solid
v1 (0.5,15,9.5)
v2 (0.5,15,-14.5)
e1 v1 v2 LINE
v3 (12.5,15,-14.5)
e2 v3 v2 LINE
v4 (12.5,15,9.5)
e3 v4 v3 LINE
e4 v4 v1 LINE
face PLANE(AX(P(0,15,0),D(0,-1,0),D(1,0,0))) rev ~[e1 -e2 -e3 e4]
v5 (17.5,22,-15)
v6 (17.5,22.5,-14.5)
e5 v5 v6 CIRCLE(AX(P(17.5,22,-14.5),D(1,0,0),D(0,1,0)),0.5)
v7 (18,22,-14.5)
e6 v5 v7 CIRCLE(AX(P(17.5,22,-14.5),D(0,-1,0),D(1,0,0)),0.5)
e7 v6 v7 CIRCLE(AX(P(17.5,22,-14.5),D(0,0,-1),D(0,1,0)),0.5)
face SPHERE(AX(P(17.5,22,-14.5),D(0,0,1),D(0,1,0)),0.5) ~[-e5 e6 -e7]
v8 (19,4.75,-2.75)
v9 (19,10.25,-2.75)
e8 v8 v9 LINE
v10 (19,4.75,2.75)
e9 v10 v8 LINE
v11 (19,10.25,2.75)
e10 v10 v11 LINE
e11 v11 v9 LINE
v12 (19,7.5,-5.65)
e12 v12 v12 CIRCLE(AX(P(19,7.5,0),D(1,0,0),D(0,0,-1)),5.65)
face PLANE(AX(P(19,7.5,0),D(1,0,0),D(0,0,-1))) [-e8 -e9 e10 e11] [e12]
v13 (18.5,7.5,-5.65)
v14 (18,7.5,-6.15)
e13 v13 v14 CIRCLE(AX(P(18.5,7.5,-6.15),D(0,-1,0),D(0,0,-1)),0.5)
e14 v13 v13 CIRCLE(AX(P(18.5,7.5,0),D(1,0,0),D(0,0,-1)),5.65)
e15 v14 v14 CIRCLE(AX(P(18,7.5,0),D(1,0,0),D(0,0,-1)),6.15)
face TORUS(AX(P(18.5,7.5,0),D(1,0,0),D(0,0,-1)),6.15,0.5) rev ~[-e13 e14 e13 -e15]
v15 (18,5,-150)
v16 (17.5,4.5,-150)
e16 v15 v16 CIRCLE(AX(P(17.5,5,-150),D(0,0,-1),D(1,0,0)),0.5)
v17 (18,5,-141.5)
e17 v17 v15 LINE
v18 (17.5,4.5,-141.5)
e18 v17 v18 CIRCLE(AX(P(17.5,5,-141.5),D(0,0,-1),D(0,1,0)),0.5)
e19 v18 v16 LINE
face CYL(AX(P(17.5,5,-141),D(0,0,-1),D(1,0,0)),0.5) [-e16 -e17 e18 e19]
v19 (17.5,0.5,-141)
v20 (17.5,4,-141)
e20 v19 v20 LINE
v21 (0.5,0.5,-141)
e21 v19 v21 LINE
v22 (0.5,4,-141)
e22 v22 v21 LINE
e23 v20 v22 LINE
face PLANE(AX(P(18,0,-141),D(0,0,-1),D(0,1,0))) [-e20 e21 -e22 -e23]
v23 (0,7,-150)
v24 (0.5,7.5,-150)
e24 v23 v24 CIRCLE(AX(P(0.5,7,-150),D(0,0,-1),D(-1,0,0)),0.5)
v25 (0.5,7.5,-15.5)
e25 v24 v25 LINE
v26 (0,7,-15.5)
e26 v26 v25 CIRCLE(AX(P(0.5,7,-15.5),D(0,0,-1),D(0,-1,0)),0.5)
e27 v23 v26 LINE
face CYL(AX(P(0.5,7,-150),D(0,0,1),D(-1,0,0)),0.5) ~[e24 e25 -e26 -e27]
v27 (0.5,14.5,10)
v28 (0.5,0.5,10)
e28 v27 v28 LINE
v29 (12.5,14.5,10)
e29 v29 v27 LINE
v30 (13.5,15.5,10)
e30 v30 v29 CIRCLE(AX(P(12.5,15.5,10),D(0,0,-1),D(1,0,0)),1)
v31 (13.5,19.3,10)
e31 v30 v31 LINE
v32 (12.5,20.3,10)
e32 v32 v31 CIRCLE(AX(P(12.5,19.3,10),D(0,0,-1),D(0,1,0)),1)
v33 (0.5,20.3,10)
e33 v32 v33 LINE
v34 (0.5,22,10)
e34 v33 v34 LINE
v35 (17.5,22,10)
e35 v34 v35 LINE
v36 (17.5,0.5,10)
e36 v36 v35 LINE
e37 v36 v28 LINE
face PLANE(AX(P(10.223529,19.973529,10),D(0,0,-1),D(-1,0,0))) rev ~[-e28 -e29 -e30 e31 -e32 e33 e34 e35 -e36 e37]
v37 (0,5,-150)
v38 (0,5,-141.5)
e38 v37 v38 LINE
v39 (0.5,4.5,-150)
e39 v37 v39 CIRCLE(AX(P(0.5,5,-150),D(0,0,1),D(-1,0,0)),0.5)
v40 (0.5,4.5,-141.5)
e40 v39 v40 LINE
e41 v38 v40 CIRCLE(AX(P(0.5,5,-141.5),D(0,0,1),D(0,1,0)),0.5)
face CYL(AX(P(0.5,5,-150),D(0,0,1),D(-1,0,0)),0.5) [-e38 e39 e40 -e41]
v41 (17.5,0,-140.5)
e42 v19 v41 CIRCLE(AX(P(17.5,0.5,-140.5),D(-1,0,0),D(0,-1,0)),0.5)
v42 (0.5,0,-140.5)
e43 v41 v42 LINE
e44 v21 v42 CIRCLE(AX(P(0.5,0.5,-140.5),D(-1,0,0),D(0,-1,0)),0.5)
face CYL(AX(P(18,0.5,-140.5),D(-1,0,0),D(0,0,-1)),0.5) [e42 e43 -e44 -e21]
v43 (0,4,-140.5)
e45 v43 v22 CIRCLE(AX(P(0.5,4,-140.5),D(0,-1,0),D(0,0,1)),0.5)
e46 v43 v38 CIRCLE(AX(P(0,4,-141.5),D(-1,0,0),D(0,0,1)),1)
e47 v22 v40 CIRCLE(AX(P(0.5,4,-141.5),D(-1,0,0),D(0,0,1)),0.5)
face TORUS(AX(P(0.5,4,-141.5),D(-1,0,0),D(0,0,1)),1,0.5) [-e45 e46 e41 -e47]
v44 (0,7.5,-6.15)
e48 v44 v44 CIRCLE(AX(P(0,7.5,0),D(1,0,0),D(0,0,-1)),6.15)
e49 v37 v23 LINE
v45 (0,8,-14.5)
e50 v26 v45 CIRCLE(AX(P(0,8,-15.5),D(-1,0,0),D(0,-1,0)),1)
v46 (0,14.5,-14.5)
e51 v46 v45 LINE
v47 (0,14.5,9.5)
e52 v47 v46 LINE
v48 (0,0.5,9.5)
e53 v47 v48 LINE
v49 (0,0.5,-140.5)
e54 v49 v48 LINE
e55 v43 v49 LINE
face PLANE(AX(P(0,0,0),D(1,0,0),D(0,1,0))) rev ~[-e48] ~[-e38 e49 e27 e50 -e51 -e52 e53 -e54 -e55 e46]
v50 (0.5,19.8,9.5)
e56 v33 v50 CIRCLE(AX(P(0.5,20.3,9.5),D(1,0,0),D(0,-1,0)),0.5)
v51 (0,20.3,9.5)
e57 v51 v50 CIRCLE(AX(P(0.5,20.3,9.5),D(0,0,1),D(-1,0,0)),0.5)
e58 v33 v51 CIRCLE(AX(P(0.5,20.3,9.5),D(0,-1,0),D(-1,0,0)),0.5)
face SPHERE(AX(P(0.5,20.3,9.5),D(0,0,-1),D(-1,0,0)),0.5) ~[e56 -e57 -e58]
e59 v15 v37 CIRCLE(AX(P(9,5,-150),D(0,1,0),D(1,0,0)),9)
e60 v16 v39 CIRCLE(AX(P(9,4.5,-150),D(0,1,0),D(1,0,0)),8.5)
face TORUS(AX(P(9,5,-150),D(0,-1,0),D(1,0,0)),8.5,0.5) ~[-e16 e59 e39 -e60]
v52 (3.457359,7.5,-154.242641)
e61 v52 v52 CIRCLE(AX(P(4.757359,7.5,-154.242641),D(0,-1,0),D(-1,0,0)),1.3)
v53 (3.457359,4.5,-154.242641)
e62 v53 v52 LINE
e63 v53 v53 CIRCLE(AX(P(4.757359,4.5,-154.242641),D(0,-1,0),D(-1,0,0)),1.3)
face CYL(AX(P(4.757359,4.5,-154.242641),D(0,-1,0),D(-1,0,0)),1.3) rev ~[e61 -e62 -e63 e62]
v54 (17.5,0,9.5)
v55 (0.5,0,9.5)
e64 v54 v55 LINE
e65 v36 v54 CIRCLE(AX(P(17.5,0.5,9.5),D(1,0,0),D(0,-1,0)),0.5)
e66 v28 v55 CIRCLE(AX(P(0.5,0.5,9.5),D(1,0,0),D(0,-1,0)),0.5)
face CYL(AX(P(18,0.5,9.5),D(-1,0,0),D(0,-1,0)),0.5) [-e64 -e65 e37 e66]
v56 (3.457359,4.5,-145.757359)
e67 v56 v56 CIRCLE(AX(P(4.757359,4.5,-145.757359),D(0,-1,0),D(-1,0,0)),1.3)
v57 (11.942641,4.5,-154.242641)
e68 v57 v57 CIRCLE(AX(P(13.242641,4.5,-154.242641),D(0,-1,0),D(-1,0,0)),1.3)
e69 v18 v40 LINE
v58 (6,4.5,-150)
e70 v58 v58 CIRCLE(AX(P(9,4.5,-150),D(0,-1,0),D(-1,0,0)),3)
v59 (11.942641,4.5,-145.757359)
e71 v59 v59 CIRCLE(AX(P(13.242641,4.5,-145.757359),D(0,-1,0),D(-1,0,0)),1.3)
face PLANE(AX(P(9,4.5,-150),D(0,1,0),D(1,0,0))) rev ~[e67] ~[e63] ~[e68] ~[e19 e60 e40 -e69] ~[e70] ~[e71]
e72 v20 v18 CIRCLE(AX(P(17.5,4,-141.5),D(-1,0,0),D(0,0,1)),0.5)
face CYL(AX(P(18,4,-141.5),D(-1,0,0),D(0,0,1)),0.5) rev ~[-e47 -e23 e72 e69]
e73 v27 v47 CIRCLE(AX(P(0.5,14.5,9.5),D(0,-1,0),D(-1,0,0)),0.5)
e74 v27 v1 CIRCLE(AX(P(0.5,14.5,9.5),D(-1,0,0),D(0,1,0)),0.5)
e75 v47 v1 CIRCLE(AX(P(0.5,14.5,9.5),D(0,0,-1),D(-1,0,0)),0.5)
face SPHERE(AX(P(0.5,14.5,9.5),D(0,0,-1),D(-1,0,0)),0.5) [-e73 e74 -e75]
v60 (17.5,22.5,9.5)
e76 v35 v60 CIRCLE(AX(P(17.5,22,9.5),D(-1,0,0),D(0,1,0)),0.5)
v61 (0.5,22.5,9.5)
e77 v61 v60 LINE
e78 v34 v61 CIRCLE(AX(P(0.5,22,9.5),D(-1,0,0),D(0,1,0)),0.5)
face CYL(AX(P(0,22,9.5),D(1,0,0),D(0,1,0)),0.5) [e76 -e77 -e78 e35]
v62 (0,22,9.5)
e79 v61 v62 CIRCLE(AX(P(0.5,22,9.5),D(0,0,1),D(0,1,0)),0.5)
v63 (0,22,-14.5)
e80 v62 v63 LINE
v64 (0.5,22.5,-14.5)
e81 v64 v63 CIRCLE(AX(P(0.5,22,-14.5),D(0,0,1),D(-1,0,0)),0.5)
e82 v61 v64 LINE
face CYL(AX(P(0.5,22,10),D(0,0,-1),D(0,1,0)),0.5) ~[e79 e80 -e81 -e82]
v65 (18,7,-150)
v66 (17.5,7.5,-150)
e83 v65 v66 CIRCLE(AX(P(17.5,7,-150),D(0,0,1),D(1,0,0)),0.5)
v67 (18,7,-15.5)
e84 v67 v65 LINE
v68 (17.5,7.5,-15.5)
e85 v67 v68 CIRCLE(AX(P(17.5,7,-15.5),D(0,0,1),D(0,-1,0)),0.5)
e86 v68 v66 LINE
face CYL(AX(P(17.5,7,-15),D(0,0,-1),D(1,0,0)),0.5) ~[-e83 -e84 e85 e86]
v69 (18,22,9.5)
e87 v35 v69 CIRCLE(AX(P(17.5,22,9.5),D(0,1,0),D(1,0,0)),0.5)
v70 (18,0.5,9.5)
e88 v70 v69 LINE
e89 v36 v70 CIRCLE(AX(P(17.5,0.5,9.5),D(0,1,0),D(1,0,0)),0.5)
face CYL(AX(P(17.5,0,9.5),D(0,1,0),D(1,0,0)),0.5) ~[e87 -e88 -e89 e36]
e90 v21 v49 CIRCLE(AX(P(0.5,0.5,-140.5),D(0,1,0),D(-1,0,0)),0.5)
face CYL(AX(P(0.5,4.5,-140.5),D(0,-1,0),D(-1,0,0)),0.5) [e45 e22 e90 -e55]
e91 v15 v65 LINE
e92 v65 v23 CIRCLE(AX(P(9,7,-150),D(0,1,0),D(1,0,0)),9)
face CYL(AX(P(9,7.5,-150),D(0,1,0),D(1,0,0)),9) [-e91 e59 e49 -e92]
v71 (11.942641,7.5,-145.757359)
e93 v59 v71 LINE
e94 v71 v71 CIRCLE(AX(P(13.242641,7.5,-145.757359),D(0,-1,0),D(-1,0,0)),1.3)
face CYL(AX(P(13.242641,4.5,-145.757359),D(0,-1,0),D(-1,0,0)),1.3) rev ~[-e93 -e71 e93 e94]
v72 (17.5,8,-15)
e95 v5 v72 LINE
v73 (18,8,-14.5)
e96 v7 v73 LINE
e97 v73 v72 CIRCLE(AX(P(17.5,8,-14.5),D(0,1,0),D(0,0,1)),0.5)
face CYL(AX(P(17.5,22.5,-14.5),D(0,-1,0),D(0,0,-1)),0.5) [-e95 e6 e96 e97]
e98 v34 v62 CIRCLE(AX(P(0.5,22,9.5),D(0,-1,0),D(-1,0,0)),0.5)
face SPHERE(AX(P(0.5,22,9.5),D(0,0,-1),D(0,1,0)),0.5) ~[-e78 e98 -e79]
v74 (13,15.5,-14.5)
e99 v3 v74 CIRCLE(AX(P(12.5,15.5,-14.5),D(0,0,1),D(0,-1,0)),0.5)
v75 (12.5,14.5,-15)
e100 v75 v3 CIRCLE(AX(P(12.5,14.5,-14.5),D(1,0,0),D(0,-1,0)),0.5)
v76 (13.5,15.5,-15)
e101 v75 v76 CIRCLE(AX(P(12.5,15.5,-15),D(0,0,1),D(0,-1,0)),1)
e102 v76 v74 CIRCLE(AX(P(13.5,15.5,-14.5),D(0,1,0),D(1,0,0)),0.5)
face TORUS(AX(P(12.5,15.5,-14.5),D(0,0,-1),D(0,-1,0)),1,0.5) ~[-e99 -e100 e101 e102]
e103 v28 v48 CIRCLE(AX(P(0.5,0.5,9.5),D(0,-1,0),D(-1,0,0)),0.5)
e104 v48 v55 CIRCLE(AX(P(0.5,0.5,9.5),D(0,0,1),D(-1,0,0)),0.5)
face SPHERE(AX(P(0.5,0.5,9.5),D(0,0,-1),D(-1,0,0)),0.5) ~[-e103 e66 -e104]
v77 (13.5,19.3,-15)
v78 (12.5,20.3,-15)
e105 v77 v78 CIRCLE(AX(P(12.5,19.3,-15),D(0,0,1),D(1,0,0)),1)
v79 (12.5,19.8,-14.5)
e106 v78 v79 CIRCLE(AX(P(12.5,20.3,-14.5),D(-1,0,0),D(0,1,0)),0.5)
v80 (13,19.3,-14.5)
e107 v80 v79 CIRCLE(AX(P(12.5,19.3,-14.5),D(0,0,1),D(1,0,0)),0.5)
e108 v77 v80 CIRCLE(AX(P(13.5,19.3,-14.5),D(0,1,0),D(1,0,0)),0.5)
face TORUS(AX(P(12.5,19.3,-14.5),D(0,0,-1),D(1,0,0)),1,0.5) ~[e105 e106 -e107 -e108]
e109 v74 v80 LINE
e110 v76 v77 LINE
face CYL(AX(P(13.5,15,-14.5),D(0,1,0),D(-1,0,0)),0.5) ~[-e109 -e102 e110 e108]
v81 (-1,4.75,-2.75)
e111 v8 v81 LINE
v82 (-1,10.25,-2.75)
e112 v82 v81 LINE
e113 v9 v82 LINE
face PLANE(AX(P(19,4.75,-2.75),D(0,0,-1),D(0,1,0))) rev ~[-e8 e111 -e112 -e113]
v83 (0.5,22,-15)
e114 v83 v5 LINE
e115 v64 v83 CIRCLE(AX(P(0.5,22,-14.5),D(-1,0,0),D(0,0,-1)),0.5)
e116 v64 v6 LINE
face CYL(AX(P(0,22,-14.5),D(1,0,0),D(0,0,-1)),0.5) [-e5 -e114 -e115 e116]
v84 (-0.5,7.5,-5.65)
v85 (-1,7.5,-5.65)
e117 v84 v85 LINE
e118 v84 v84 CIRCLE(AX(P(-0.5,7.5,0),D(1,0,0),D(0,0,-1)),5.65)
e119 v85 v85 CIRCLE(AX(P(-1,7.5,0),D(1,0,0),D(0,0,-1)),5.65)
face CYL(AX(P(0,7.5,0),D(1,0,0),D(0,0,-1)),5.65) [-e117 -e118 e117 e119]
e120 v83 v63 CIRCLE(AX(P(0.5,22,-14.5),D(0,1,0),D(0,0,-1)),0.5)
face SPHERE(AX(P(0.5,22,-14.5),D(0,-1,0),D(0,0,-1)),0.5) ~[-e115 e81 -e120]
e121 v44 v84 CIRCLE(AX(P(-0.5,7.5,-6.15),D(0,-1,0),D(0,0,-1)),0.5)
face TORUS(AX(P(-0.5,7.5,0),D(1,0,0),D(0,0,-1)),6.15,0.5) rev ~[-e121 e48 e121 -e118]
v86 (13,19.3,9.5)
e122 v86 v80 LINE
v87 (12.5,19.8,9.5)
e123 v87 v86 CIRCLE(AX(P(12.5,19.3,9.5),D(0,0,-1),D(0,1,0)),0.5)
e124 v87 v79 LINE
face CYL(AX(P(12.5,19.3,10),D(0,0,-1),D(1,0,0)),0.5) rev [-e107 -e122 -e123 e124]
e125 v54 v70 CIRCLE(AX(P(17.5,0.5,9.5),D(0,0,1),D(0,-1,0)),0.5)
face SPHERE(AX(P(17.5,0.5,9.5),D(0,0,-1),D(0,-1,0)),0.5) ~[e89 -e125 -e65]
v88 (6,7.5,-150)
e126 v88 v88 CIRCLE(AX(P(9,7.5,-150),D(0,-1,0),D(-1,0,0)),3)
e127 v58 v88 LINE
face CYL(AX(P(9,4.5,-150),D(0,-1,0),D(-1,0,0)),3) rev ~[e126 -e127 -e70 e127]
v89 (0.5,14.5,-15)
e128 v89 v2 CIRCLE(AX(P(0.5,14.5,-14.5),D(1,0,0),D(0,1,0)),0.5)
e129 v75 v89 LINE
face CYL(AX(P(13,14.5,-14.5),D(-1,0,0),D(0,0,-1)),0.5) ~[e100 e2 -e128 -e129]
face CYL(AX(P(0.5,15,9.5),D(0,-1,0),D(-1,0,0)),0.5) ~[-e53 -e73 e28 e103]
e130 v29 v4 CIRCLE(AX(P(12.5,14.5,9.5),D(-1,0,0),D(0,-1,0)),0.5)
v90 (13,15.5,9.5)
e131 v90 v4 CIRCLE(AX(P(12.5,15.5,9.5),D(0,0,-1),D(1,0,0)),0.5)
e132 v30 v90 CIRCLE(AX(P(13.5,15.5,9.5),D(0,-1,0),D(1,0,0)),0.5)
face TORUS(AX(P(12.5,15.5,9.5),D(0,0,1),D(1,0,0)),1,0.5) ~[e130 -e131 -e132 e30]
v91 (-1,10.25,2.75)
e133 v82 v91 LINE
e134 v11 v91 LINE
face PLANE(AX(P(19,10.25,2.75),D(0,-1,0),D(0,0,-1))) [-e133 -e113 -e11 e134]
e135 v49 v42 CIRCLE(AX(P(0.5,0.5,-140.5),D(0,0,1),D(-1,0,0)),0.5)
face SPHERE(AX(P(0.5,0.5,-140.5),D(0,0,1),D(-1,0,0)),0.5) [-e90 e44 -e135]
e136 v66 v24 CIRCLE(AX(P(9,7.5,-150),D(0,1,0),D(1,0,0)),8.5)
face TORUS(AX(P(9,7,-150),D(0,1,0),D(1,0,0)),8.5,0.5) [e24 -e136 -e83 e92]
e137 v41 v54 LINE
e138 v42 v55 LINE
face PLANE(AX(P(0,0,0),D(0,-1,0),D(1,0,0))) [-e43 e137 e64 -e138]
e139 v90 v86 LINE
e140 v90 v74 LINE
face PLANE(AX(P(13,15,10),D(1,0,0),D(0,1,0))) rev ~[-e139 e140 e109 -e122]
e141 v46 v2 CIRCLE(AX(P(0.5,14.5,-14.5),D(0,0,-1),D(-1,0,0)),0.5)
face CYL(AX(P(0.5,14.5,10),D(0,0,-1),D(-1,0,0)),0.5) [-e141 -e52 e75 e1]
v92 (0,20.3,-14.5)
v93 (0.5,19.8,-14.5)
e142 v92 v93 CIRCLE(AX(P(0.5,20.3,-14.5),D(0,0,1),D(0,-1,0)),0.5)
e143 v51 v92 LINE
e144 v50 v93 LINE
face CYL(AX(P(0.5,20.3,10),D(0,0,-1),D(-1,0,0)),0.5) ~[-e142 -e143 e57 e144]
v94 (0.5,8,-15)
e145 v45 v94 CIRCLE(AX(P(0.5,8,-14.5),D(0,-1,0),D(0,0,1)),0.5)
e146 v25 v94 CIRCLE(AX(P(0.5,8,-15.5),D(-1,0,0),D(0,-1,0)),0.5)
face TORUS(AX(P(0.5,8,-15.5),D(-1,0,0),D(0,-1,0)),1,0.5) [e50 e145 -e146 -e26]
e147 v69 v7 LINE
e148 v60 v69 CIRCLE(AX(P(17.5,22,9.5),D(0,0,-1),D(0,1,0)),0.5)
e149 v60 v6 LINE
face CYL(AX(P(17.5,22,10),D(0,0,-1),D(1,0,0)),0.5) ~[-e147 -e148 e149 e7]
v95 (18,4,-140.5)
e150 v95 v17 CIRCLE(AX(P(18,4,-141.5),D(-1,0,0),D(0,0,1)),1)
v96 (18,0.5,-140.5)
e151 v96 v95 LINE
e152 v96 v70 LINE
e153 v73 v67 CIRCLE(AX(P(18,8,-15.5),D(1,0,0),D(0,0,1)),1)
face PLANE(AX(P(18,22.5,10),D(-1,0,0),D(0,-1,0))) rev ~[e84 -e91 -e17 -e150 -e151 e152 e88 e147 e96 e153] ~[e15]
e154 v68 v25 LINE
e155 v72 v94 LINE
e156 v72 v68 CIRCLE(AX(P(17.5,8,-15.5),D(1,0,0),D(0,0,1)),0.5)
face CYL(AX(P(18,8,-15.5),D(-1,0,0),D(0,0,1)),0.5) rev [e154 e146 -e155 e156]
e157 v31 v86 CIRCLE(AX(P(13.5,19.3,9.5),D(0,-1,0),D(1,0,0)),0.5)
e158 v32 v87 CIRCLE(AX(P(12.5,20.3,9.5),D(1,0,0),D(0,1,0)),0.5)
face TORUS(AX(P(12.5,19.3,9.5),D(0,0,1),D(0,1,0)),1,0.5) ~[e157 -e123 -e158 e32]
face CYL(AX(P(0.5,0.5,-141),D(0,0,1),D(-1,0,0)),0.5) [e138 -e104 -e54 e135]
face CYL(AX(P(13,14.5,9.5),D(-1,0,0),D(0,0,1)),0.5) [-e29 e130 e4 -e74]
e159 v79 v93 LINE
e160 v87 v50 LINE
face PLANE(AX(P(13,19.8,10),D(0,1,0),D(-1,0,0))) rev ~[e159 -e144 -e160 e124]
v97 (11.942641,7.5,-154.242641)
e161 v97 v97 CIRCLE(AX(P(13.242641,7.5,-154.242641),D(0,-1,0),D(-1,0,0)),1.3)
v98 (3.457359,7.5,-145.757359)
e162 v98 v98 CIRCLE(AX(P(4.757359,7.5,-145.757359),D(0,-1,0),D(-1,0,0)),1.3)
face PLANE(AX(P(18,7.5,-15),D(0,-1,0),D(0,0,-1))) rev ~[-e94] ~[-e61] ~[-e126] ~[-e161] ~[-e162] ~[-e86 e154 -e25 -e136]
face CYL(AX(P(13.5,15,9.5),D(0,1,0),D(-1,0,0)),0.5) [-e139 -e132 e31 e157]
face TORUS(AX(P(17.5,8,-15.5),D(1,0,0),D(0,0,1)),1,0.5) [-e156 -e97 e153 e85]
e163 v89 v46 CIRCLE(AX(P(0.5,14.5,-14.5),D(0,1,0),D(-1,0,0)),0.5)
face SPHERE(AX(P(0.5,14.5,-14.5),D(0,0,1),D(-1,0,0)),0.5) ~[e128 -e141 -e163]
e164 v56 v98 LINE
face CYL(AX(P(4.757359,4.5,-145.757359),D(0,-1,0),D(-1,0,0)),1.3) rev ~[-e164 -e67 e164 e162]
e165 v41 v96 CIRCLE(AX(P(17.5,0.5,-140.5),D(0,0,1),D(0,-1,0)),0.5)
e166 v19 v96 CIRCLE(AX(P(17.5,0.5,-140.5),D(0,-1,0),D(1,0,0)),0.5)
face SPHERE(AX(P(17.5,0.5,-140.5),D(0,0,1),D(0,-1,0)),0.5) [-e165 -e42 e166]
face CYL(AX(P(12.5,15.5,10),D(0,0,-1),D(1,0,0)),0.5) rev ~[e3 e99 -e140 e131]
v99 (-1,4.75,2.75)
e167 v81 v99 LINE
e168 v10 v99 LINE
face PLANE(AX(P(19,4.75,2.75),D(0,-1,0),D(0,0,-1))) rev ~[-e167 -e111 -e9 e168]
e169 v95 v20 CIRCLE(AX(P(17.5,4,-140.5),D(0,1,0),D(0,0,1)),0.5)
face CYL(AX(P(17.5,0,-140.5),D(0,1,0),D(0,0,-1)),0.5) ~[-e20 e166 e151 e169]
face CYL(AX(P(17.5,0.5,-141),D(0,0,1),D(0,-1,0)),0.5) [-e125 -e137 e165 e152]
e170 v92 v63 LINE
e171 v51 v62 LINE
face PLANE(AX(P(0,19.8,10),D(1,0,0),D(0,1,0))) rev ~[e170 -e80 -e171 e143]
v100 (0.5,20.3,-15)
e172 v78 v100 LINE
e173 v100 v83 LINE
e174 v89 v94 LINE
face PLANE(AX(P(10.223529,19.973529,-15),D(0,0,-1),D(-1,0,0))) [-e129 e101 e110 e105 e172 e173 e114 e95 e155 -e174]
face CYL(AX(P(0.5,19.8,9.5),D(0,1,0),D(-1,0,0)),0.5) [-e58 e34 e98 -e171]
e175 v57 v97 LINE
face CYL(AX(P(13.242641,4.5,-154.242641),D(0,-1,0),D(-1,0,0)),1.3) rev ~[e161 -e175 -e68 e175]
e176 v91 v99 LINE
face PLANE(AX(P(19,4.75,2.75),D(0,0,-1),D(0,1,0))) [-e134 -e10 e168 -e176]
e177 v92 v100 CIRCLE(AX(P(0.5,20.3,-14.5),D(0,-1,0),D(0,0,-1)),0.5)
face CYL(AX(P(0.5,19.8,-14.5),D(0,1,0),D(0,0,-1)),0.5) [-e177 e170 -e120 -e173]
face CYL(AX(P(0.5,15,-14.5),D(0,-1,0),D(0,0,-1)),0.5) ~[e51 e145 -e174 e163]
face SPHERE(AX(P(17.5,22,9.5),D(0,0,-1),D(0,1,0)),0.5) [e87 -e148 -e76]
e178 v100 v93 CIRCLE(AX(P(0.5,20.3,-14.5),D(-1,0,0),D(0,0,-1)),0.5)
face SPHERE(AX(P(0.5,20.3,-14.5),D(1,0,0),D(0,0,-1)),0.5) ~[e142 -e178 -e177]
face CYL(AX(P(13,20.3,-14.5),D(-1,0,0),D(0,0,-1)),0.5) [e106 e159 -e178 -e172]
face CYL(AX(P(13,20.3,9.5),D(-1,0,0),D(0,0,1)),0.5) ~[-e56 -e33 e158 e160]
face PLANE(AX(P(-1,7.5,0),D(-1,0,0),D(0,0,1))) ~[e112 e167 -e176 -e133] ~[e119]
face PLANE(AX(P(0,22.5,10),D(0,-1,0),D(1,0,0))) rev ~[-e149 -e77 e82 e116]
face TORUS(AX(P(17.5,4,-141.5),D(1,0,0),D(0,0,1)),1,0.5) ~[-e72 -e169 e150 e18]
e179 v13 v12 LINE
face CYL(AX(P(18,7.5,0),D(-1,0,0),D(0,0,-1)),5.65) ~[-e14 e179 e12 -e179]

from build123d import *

# Parameters (mm, degrees)
SKETCH1_W                = 18
SKETCH1_H                = 15
BOSS_EXTRUDE1_DEPTH      = 40
BOSS_EXTRUDE1_DEPTH_BACK = 150
SKETCH2_R                = 5.65
BOSS_EXTRUDE2_DEPTH      = 1
CUT_EXTRUDE1_REACH       = 22
SKETCH3_W                = 5.5
SKETCH3_H                = 5.5
CUT_EXTRUDE2_REACH       = 21
SKETCH4_W                = 135
SKETCH4_H                = 7.5
SKETCH4_W_2              = 30
SKETCH4_H_2              = 15
SKETCH6_R                = 9
BOSS_EXTRUDE4_DEPTH      = 3
SKETCH9_R                = 3
SKETCH9_R_2              = 1.3
CUT_EXTRUDE3_DEPTH       = 3
CUT_EXTRUDE5_REACH       = 21
SKETCH16_W               = 9
SKETCH16_H               = 4.5
BOSS_EXTRUDE7_DEPTH      = 25
FILLET2_R                = 0.5


with BuildPart() as part:
    # Sketch1 → Boss-Extrude1 (new body, two sides)
    with BuildSketch(Plane.XY) as boss_extrude1_sk:
        with Locations((9, 7.5)):
            Rectangle(SKETCH1_W, SKETCH1_H)
    extrude(amount=BOSS_EXTRUDE1_DEPTH)
    extrude(boss_extrude1_sk.sketch, amount=-BOSS_EXTRUDE1_DEPTH_BACK)

    # Sketch2 → Boss-Extrude2 (add)
    with BuildSketch(Plane(origin=(18, 0, 0), x_dir=(0, 0, -1), z_dir=(1, 0, 0))):
        with Locations((0, 7.5)):
            Circle(SKETCH2_R)
    boss_extrude2 = extrude(amount=BOSS_EXTRUDE2_DEPTH)

    # Mirror1: Boss-Extrude2 across plane
    add(boss_extrude2.mirror(Plane(origin=(9, 0, 0), x_dir=(0, 0, 1), z_dir=(1, 0, 0))))

    # Sketch3 → Cut-Extrude1 (cut, up to next)
    with BuildSketch(Plane(origin=(19, 0, 0), x_dir=(0, 0, -1), z_dir=(1, 0, 0)), mode=Mode.PRIVATE) as cut_extrude1_sk1:
        with Locations((0, 7.5)):
            Rectangle(SKETCH3_W, SKETCH3_H)
    cut_extrude1_tool1 = extrude(cut_extrude1_sk1.sketch, amount=-CUT_EXTRUDE1_REACH, mode=Mode.PRIVATE) & part.part
    add(cut_extrude1_tool1.solids().sort_by_distance((19, 7.5, 0))[0], mode=Mode.SUBTRACT)

    # Sketch4 → Cut-Extrude2 (cut, up to next)
    with BuildSketch(Plane(origin=(18, 0, 0), x_dir=(0, 0, -1), z_dir=(1, 0, 0)), mode=Mode.PRIVATE) as cut_extrude2_sk1:
        with Locations((82.5, 11.25)):
            Rectangle(SKETCH4_W, SKETCH4_H)
    cut_extrude2_tool1 = extrude(cut_extrude2_sk1.sketch, amount=-CUT_EXTRUDE2_REACH, mode=Mode.PRIVATE) & part.part
    add(cut_extrude2_tool1.solids().sort_by_distance((18, 11.25, -82.5))[0], mode=Mode.SUBTRACT)
    # Sketch4 → Cut-Extrude2 (cut, up to next)
    with BuildSketch(Plane(origin=(18, 0, 0), x_dir=(0, 0, -1), z_dir=(1, 0, 0)), mode=Mode.PRIVATE) as cut_extrude2_sk2:
        with Locations((-25, 7.5)):
            Rectangle(SKETCH4_W_2, SKETCH4_H_2)
    cut_extrude2_tool2 = extrude(cut_extrude2_sk2.sketch, amount=-CUT_EXTRUDE2_REACH, mode=Mode.PRIVATE) & part.part
    add(cut_extrude2_tool2.solids().sort_by_distance((18, 7.5, 25))[0], mode=Mode.SUBTRACT)

    # Sketch6 → Boss-Extrude4 (add)
    with BuildSketch(Plane(origin=(0, 7.5, 0), x_dir=(1, 0, 0), z_dir=(0, 1, 0))):
        with Locations((9, 150)):
            Circle(SKETCH6_R)
    extrude(amount=-BOSS_EXTRUDE4_DEPTH)

    # Sketch9 → Cut-Extrude3 (cut)
    with BuildSketch(Plane(origin=(0, 4.5, 0), x_dir=(-1, 0, 0), z_dir=(0, -1, 0))):
        with Locations((-9, 150)):
            Circle(SKETCH9_R)
        with Locations((-4.757359313, 154.242640687)):
            Circle(SKETCH9_R_2)
        with Locations((-4.757359313, 145.757359313)):
            Circle(SKETCH9_R_2)
        with Locations((-13.242640687, 145.757359313)):
            Circle(SKETCH9_R_2)
        with Locations((-13.242640687, 154.242640687)):
            Circle(SKETCH9_R_2)
    extrude(amount=-CUT_EXTRUDE3_DEPTH, mode=Mode.SUBTRACT)

    # Sketch16 → Cut-Extrude5 (cut, up to next)
    with BuildSketch(Plane(origin=(18, 0, 0), x_dir=(0, 0, -1), z_dir=(1, 0, 0)), mode=Mode.PRIVATE) as cut_extrude5_sk1:
        with Locations((145.5, 2.25)):
            Rectangle(SKETCH16_W, SKETCH16_H)
    cut_extrude5_tool1 = extrude(cut_extrude5_sk1.sketch, amount=-CUT_EXTRUDE5_REACH, mode=Mode.PRIVATE) & part.part
    add(cut_extrude5_tool1.solids().sort_by_distance((18, 2.25, -145.5))[0], mode=Mode.SUBTRACT)

    # Sketch15 → Boss-Extrude7 (add)
    with BuildSketch(Plane.XY.offset(10)):
        Polygon((18, 15), (13, 15), (13, 19.8), (0, 19.8), (0, 22.5), (18, 22.5), align=None)
    extrude(amount=-BOSS_EXTRUDE7_DEPTH)

    # Fillet2
    fillet2_edges = [part.edges().sort_by_distance(p)[0] for p in [
        (0, 0, -65.5),
        (18, 0, -65.5),
        (0, 4.5, -145.5),
        (9, 4.5, -141),
        (0, 2.25, -141),
        (9, 0, -141),
        (18, 4.5, -145.5),
        (18, 2.25, -141),
        (18, 22.5, -2.5),
        (13, 17.4, -15),
        (13, 15, -2.5),
        (6.5, 19.8, -15),
        (13, 19.8, -2.5),
        (0, 21.15, -15),
        (0, 19.8, -2.5),
        (9, 22.5, -15),
        (0, 22.5, -2.5),
        (9, 22.5, 10),
        (0, 21.15, 10),
        (6.5, 19.8, 10),
        (13, 17.4, 10),
        (18, 7.5, 5.65),
        (0, 7.5, 5.65),
        (0, 15, -2.5),
        (0, 7.5, -82.5),
        (0, 11.25, -15),
        (9, 7.5, -15),
        (6.5, 15, -15),
        (18, 15, -15),
        (18, 7.5, -82.5),
        (0, 7.5, 10),
        (6.5, 15, 10),
        (9, 0, 10),
        (18, 11.25, 10),
        (9, 4.5, -159),
        (9, 7.5, -159),
    ]]
    fillet(fillet2_edges, radius=FILLET2_R)


solid = part.part
